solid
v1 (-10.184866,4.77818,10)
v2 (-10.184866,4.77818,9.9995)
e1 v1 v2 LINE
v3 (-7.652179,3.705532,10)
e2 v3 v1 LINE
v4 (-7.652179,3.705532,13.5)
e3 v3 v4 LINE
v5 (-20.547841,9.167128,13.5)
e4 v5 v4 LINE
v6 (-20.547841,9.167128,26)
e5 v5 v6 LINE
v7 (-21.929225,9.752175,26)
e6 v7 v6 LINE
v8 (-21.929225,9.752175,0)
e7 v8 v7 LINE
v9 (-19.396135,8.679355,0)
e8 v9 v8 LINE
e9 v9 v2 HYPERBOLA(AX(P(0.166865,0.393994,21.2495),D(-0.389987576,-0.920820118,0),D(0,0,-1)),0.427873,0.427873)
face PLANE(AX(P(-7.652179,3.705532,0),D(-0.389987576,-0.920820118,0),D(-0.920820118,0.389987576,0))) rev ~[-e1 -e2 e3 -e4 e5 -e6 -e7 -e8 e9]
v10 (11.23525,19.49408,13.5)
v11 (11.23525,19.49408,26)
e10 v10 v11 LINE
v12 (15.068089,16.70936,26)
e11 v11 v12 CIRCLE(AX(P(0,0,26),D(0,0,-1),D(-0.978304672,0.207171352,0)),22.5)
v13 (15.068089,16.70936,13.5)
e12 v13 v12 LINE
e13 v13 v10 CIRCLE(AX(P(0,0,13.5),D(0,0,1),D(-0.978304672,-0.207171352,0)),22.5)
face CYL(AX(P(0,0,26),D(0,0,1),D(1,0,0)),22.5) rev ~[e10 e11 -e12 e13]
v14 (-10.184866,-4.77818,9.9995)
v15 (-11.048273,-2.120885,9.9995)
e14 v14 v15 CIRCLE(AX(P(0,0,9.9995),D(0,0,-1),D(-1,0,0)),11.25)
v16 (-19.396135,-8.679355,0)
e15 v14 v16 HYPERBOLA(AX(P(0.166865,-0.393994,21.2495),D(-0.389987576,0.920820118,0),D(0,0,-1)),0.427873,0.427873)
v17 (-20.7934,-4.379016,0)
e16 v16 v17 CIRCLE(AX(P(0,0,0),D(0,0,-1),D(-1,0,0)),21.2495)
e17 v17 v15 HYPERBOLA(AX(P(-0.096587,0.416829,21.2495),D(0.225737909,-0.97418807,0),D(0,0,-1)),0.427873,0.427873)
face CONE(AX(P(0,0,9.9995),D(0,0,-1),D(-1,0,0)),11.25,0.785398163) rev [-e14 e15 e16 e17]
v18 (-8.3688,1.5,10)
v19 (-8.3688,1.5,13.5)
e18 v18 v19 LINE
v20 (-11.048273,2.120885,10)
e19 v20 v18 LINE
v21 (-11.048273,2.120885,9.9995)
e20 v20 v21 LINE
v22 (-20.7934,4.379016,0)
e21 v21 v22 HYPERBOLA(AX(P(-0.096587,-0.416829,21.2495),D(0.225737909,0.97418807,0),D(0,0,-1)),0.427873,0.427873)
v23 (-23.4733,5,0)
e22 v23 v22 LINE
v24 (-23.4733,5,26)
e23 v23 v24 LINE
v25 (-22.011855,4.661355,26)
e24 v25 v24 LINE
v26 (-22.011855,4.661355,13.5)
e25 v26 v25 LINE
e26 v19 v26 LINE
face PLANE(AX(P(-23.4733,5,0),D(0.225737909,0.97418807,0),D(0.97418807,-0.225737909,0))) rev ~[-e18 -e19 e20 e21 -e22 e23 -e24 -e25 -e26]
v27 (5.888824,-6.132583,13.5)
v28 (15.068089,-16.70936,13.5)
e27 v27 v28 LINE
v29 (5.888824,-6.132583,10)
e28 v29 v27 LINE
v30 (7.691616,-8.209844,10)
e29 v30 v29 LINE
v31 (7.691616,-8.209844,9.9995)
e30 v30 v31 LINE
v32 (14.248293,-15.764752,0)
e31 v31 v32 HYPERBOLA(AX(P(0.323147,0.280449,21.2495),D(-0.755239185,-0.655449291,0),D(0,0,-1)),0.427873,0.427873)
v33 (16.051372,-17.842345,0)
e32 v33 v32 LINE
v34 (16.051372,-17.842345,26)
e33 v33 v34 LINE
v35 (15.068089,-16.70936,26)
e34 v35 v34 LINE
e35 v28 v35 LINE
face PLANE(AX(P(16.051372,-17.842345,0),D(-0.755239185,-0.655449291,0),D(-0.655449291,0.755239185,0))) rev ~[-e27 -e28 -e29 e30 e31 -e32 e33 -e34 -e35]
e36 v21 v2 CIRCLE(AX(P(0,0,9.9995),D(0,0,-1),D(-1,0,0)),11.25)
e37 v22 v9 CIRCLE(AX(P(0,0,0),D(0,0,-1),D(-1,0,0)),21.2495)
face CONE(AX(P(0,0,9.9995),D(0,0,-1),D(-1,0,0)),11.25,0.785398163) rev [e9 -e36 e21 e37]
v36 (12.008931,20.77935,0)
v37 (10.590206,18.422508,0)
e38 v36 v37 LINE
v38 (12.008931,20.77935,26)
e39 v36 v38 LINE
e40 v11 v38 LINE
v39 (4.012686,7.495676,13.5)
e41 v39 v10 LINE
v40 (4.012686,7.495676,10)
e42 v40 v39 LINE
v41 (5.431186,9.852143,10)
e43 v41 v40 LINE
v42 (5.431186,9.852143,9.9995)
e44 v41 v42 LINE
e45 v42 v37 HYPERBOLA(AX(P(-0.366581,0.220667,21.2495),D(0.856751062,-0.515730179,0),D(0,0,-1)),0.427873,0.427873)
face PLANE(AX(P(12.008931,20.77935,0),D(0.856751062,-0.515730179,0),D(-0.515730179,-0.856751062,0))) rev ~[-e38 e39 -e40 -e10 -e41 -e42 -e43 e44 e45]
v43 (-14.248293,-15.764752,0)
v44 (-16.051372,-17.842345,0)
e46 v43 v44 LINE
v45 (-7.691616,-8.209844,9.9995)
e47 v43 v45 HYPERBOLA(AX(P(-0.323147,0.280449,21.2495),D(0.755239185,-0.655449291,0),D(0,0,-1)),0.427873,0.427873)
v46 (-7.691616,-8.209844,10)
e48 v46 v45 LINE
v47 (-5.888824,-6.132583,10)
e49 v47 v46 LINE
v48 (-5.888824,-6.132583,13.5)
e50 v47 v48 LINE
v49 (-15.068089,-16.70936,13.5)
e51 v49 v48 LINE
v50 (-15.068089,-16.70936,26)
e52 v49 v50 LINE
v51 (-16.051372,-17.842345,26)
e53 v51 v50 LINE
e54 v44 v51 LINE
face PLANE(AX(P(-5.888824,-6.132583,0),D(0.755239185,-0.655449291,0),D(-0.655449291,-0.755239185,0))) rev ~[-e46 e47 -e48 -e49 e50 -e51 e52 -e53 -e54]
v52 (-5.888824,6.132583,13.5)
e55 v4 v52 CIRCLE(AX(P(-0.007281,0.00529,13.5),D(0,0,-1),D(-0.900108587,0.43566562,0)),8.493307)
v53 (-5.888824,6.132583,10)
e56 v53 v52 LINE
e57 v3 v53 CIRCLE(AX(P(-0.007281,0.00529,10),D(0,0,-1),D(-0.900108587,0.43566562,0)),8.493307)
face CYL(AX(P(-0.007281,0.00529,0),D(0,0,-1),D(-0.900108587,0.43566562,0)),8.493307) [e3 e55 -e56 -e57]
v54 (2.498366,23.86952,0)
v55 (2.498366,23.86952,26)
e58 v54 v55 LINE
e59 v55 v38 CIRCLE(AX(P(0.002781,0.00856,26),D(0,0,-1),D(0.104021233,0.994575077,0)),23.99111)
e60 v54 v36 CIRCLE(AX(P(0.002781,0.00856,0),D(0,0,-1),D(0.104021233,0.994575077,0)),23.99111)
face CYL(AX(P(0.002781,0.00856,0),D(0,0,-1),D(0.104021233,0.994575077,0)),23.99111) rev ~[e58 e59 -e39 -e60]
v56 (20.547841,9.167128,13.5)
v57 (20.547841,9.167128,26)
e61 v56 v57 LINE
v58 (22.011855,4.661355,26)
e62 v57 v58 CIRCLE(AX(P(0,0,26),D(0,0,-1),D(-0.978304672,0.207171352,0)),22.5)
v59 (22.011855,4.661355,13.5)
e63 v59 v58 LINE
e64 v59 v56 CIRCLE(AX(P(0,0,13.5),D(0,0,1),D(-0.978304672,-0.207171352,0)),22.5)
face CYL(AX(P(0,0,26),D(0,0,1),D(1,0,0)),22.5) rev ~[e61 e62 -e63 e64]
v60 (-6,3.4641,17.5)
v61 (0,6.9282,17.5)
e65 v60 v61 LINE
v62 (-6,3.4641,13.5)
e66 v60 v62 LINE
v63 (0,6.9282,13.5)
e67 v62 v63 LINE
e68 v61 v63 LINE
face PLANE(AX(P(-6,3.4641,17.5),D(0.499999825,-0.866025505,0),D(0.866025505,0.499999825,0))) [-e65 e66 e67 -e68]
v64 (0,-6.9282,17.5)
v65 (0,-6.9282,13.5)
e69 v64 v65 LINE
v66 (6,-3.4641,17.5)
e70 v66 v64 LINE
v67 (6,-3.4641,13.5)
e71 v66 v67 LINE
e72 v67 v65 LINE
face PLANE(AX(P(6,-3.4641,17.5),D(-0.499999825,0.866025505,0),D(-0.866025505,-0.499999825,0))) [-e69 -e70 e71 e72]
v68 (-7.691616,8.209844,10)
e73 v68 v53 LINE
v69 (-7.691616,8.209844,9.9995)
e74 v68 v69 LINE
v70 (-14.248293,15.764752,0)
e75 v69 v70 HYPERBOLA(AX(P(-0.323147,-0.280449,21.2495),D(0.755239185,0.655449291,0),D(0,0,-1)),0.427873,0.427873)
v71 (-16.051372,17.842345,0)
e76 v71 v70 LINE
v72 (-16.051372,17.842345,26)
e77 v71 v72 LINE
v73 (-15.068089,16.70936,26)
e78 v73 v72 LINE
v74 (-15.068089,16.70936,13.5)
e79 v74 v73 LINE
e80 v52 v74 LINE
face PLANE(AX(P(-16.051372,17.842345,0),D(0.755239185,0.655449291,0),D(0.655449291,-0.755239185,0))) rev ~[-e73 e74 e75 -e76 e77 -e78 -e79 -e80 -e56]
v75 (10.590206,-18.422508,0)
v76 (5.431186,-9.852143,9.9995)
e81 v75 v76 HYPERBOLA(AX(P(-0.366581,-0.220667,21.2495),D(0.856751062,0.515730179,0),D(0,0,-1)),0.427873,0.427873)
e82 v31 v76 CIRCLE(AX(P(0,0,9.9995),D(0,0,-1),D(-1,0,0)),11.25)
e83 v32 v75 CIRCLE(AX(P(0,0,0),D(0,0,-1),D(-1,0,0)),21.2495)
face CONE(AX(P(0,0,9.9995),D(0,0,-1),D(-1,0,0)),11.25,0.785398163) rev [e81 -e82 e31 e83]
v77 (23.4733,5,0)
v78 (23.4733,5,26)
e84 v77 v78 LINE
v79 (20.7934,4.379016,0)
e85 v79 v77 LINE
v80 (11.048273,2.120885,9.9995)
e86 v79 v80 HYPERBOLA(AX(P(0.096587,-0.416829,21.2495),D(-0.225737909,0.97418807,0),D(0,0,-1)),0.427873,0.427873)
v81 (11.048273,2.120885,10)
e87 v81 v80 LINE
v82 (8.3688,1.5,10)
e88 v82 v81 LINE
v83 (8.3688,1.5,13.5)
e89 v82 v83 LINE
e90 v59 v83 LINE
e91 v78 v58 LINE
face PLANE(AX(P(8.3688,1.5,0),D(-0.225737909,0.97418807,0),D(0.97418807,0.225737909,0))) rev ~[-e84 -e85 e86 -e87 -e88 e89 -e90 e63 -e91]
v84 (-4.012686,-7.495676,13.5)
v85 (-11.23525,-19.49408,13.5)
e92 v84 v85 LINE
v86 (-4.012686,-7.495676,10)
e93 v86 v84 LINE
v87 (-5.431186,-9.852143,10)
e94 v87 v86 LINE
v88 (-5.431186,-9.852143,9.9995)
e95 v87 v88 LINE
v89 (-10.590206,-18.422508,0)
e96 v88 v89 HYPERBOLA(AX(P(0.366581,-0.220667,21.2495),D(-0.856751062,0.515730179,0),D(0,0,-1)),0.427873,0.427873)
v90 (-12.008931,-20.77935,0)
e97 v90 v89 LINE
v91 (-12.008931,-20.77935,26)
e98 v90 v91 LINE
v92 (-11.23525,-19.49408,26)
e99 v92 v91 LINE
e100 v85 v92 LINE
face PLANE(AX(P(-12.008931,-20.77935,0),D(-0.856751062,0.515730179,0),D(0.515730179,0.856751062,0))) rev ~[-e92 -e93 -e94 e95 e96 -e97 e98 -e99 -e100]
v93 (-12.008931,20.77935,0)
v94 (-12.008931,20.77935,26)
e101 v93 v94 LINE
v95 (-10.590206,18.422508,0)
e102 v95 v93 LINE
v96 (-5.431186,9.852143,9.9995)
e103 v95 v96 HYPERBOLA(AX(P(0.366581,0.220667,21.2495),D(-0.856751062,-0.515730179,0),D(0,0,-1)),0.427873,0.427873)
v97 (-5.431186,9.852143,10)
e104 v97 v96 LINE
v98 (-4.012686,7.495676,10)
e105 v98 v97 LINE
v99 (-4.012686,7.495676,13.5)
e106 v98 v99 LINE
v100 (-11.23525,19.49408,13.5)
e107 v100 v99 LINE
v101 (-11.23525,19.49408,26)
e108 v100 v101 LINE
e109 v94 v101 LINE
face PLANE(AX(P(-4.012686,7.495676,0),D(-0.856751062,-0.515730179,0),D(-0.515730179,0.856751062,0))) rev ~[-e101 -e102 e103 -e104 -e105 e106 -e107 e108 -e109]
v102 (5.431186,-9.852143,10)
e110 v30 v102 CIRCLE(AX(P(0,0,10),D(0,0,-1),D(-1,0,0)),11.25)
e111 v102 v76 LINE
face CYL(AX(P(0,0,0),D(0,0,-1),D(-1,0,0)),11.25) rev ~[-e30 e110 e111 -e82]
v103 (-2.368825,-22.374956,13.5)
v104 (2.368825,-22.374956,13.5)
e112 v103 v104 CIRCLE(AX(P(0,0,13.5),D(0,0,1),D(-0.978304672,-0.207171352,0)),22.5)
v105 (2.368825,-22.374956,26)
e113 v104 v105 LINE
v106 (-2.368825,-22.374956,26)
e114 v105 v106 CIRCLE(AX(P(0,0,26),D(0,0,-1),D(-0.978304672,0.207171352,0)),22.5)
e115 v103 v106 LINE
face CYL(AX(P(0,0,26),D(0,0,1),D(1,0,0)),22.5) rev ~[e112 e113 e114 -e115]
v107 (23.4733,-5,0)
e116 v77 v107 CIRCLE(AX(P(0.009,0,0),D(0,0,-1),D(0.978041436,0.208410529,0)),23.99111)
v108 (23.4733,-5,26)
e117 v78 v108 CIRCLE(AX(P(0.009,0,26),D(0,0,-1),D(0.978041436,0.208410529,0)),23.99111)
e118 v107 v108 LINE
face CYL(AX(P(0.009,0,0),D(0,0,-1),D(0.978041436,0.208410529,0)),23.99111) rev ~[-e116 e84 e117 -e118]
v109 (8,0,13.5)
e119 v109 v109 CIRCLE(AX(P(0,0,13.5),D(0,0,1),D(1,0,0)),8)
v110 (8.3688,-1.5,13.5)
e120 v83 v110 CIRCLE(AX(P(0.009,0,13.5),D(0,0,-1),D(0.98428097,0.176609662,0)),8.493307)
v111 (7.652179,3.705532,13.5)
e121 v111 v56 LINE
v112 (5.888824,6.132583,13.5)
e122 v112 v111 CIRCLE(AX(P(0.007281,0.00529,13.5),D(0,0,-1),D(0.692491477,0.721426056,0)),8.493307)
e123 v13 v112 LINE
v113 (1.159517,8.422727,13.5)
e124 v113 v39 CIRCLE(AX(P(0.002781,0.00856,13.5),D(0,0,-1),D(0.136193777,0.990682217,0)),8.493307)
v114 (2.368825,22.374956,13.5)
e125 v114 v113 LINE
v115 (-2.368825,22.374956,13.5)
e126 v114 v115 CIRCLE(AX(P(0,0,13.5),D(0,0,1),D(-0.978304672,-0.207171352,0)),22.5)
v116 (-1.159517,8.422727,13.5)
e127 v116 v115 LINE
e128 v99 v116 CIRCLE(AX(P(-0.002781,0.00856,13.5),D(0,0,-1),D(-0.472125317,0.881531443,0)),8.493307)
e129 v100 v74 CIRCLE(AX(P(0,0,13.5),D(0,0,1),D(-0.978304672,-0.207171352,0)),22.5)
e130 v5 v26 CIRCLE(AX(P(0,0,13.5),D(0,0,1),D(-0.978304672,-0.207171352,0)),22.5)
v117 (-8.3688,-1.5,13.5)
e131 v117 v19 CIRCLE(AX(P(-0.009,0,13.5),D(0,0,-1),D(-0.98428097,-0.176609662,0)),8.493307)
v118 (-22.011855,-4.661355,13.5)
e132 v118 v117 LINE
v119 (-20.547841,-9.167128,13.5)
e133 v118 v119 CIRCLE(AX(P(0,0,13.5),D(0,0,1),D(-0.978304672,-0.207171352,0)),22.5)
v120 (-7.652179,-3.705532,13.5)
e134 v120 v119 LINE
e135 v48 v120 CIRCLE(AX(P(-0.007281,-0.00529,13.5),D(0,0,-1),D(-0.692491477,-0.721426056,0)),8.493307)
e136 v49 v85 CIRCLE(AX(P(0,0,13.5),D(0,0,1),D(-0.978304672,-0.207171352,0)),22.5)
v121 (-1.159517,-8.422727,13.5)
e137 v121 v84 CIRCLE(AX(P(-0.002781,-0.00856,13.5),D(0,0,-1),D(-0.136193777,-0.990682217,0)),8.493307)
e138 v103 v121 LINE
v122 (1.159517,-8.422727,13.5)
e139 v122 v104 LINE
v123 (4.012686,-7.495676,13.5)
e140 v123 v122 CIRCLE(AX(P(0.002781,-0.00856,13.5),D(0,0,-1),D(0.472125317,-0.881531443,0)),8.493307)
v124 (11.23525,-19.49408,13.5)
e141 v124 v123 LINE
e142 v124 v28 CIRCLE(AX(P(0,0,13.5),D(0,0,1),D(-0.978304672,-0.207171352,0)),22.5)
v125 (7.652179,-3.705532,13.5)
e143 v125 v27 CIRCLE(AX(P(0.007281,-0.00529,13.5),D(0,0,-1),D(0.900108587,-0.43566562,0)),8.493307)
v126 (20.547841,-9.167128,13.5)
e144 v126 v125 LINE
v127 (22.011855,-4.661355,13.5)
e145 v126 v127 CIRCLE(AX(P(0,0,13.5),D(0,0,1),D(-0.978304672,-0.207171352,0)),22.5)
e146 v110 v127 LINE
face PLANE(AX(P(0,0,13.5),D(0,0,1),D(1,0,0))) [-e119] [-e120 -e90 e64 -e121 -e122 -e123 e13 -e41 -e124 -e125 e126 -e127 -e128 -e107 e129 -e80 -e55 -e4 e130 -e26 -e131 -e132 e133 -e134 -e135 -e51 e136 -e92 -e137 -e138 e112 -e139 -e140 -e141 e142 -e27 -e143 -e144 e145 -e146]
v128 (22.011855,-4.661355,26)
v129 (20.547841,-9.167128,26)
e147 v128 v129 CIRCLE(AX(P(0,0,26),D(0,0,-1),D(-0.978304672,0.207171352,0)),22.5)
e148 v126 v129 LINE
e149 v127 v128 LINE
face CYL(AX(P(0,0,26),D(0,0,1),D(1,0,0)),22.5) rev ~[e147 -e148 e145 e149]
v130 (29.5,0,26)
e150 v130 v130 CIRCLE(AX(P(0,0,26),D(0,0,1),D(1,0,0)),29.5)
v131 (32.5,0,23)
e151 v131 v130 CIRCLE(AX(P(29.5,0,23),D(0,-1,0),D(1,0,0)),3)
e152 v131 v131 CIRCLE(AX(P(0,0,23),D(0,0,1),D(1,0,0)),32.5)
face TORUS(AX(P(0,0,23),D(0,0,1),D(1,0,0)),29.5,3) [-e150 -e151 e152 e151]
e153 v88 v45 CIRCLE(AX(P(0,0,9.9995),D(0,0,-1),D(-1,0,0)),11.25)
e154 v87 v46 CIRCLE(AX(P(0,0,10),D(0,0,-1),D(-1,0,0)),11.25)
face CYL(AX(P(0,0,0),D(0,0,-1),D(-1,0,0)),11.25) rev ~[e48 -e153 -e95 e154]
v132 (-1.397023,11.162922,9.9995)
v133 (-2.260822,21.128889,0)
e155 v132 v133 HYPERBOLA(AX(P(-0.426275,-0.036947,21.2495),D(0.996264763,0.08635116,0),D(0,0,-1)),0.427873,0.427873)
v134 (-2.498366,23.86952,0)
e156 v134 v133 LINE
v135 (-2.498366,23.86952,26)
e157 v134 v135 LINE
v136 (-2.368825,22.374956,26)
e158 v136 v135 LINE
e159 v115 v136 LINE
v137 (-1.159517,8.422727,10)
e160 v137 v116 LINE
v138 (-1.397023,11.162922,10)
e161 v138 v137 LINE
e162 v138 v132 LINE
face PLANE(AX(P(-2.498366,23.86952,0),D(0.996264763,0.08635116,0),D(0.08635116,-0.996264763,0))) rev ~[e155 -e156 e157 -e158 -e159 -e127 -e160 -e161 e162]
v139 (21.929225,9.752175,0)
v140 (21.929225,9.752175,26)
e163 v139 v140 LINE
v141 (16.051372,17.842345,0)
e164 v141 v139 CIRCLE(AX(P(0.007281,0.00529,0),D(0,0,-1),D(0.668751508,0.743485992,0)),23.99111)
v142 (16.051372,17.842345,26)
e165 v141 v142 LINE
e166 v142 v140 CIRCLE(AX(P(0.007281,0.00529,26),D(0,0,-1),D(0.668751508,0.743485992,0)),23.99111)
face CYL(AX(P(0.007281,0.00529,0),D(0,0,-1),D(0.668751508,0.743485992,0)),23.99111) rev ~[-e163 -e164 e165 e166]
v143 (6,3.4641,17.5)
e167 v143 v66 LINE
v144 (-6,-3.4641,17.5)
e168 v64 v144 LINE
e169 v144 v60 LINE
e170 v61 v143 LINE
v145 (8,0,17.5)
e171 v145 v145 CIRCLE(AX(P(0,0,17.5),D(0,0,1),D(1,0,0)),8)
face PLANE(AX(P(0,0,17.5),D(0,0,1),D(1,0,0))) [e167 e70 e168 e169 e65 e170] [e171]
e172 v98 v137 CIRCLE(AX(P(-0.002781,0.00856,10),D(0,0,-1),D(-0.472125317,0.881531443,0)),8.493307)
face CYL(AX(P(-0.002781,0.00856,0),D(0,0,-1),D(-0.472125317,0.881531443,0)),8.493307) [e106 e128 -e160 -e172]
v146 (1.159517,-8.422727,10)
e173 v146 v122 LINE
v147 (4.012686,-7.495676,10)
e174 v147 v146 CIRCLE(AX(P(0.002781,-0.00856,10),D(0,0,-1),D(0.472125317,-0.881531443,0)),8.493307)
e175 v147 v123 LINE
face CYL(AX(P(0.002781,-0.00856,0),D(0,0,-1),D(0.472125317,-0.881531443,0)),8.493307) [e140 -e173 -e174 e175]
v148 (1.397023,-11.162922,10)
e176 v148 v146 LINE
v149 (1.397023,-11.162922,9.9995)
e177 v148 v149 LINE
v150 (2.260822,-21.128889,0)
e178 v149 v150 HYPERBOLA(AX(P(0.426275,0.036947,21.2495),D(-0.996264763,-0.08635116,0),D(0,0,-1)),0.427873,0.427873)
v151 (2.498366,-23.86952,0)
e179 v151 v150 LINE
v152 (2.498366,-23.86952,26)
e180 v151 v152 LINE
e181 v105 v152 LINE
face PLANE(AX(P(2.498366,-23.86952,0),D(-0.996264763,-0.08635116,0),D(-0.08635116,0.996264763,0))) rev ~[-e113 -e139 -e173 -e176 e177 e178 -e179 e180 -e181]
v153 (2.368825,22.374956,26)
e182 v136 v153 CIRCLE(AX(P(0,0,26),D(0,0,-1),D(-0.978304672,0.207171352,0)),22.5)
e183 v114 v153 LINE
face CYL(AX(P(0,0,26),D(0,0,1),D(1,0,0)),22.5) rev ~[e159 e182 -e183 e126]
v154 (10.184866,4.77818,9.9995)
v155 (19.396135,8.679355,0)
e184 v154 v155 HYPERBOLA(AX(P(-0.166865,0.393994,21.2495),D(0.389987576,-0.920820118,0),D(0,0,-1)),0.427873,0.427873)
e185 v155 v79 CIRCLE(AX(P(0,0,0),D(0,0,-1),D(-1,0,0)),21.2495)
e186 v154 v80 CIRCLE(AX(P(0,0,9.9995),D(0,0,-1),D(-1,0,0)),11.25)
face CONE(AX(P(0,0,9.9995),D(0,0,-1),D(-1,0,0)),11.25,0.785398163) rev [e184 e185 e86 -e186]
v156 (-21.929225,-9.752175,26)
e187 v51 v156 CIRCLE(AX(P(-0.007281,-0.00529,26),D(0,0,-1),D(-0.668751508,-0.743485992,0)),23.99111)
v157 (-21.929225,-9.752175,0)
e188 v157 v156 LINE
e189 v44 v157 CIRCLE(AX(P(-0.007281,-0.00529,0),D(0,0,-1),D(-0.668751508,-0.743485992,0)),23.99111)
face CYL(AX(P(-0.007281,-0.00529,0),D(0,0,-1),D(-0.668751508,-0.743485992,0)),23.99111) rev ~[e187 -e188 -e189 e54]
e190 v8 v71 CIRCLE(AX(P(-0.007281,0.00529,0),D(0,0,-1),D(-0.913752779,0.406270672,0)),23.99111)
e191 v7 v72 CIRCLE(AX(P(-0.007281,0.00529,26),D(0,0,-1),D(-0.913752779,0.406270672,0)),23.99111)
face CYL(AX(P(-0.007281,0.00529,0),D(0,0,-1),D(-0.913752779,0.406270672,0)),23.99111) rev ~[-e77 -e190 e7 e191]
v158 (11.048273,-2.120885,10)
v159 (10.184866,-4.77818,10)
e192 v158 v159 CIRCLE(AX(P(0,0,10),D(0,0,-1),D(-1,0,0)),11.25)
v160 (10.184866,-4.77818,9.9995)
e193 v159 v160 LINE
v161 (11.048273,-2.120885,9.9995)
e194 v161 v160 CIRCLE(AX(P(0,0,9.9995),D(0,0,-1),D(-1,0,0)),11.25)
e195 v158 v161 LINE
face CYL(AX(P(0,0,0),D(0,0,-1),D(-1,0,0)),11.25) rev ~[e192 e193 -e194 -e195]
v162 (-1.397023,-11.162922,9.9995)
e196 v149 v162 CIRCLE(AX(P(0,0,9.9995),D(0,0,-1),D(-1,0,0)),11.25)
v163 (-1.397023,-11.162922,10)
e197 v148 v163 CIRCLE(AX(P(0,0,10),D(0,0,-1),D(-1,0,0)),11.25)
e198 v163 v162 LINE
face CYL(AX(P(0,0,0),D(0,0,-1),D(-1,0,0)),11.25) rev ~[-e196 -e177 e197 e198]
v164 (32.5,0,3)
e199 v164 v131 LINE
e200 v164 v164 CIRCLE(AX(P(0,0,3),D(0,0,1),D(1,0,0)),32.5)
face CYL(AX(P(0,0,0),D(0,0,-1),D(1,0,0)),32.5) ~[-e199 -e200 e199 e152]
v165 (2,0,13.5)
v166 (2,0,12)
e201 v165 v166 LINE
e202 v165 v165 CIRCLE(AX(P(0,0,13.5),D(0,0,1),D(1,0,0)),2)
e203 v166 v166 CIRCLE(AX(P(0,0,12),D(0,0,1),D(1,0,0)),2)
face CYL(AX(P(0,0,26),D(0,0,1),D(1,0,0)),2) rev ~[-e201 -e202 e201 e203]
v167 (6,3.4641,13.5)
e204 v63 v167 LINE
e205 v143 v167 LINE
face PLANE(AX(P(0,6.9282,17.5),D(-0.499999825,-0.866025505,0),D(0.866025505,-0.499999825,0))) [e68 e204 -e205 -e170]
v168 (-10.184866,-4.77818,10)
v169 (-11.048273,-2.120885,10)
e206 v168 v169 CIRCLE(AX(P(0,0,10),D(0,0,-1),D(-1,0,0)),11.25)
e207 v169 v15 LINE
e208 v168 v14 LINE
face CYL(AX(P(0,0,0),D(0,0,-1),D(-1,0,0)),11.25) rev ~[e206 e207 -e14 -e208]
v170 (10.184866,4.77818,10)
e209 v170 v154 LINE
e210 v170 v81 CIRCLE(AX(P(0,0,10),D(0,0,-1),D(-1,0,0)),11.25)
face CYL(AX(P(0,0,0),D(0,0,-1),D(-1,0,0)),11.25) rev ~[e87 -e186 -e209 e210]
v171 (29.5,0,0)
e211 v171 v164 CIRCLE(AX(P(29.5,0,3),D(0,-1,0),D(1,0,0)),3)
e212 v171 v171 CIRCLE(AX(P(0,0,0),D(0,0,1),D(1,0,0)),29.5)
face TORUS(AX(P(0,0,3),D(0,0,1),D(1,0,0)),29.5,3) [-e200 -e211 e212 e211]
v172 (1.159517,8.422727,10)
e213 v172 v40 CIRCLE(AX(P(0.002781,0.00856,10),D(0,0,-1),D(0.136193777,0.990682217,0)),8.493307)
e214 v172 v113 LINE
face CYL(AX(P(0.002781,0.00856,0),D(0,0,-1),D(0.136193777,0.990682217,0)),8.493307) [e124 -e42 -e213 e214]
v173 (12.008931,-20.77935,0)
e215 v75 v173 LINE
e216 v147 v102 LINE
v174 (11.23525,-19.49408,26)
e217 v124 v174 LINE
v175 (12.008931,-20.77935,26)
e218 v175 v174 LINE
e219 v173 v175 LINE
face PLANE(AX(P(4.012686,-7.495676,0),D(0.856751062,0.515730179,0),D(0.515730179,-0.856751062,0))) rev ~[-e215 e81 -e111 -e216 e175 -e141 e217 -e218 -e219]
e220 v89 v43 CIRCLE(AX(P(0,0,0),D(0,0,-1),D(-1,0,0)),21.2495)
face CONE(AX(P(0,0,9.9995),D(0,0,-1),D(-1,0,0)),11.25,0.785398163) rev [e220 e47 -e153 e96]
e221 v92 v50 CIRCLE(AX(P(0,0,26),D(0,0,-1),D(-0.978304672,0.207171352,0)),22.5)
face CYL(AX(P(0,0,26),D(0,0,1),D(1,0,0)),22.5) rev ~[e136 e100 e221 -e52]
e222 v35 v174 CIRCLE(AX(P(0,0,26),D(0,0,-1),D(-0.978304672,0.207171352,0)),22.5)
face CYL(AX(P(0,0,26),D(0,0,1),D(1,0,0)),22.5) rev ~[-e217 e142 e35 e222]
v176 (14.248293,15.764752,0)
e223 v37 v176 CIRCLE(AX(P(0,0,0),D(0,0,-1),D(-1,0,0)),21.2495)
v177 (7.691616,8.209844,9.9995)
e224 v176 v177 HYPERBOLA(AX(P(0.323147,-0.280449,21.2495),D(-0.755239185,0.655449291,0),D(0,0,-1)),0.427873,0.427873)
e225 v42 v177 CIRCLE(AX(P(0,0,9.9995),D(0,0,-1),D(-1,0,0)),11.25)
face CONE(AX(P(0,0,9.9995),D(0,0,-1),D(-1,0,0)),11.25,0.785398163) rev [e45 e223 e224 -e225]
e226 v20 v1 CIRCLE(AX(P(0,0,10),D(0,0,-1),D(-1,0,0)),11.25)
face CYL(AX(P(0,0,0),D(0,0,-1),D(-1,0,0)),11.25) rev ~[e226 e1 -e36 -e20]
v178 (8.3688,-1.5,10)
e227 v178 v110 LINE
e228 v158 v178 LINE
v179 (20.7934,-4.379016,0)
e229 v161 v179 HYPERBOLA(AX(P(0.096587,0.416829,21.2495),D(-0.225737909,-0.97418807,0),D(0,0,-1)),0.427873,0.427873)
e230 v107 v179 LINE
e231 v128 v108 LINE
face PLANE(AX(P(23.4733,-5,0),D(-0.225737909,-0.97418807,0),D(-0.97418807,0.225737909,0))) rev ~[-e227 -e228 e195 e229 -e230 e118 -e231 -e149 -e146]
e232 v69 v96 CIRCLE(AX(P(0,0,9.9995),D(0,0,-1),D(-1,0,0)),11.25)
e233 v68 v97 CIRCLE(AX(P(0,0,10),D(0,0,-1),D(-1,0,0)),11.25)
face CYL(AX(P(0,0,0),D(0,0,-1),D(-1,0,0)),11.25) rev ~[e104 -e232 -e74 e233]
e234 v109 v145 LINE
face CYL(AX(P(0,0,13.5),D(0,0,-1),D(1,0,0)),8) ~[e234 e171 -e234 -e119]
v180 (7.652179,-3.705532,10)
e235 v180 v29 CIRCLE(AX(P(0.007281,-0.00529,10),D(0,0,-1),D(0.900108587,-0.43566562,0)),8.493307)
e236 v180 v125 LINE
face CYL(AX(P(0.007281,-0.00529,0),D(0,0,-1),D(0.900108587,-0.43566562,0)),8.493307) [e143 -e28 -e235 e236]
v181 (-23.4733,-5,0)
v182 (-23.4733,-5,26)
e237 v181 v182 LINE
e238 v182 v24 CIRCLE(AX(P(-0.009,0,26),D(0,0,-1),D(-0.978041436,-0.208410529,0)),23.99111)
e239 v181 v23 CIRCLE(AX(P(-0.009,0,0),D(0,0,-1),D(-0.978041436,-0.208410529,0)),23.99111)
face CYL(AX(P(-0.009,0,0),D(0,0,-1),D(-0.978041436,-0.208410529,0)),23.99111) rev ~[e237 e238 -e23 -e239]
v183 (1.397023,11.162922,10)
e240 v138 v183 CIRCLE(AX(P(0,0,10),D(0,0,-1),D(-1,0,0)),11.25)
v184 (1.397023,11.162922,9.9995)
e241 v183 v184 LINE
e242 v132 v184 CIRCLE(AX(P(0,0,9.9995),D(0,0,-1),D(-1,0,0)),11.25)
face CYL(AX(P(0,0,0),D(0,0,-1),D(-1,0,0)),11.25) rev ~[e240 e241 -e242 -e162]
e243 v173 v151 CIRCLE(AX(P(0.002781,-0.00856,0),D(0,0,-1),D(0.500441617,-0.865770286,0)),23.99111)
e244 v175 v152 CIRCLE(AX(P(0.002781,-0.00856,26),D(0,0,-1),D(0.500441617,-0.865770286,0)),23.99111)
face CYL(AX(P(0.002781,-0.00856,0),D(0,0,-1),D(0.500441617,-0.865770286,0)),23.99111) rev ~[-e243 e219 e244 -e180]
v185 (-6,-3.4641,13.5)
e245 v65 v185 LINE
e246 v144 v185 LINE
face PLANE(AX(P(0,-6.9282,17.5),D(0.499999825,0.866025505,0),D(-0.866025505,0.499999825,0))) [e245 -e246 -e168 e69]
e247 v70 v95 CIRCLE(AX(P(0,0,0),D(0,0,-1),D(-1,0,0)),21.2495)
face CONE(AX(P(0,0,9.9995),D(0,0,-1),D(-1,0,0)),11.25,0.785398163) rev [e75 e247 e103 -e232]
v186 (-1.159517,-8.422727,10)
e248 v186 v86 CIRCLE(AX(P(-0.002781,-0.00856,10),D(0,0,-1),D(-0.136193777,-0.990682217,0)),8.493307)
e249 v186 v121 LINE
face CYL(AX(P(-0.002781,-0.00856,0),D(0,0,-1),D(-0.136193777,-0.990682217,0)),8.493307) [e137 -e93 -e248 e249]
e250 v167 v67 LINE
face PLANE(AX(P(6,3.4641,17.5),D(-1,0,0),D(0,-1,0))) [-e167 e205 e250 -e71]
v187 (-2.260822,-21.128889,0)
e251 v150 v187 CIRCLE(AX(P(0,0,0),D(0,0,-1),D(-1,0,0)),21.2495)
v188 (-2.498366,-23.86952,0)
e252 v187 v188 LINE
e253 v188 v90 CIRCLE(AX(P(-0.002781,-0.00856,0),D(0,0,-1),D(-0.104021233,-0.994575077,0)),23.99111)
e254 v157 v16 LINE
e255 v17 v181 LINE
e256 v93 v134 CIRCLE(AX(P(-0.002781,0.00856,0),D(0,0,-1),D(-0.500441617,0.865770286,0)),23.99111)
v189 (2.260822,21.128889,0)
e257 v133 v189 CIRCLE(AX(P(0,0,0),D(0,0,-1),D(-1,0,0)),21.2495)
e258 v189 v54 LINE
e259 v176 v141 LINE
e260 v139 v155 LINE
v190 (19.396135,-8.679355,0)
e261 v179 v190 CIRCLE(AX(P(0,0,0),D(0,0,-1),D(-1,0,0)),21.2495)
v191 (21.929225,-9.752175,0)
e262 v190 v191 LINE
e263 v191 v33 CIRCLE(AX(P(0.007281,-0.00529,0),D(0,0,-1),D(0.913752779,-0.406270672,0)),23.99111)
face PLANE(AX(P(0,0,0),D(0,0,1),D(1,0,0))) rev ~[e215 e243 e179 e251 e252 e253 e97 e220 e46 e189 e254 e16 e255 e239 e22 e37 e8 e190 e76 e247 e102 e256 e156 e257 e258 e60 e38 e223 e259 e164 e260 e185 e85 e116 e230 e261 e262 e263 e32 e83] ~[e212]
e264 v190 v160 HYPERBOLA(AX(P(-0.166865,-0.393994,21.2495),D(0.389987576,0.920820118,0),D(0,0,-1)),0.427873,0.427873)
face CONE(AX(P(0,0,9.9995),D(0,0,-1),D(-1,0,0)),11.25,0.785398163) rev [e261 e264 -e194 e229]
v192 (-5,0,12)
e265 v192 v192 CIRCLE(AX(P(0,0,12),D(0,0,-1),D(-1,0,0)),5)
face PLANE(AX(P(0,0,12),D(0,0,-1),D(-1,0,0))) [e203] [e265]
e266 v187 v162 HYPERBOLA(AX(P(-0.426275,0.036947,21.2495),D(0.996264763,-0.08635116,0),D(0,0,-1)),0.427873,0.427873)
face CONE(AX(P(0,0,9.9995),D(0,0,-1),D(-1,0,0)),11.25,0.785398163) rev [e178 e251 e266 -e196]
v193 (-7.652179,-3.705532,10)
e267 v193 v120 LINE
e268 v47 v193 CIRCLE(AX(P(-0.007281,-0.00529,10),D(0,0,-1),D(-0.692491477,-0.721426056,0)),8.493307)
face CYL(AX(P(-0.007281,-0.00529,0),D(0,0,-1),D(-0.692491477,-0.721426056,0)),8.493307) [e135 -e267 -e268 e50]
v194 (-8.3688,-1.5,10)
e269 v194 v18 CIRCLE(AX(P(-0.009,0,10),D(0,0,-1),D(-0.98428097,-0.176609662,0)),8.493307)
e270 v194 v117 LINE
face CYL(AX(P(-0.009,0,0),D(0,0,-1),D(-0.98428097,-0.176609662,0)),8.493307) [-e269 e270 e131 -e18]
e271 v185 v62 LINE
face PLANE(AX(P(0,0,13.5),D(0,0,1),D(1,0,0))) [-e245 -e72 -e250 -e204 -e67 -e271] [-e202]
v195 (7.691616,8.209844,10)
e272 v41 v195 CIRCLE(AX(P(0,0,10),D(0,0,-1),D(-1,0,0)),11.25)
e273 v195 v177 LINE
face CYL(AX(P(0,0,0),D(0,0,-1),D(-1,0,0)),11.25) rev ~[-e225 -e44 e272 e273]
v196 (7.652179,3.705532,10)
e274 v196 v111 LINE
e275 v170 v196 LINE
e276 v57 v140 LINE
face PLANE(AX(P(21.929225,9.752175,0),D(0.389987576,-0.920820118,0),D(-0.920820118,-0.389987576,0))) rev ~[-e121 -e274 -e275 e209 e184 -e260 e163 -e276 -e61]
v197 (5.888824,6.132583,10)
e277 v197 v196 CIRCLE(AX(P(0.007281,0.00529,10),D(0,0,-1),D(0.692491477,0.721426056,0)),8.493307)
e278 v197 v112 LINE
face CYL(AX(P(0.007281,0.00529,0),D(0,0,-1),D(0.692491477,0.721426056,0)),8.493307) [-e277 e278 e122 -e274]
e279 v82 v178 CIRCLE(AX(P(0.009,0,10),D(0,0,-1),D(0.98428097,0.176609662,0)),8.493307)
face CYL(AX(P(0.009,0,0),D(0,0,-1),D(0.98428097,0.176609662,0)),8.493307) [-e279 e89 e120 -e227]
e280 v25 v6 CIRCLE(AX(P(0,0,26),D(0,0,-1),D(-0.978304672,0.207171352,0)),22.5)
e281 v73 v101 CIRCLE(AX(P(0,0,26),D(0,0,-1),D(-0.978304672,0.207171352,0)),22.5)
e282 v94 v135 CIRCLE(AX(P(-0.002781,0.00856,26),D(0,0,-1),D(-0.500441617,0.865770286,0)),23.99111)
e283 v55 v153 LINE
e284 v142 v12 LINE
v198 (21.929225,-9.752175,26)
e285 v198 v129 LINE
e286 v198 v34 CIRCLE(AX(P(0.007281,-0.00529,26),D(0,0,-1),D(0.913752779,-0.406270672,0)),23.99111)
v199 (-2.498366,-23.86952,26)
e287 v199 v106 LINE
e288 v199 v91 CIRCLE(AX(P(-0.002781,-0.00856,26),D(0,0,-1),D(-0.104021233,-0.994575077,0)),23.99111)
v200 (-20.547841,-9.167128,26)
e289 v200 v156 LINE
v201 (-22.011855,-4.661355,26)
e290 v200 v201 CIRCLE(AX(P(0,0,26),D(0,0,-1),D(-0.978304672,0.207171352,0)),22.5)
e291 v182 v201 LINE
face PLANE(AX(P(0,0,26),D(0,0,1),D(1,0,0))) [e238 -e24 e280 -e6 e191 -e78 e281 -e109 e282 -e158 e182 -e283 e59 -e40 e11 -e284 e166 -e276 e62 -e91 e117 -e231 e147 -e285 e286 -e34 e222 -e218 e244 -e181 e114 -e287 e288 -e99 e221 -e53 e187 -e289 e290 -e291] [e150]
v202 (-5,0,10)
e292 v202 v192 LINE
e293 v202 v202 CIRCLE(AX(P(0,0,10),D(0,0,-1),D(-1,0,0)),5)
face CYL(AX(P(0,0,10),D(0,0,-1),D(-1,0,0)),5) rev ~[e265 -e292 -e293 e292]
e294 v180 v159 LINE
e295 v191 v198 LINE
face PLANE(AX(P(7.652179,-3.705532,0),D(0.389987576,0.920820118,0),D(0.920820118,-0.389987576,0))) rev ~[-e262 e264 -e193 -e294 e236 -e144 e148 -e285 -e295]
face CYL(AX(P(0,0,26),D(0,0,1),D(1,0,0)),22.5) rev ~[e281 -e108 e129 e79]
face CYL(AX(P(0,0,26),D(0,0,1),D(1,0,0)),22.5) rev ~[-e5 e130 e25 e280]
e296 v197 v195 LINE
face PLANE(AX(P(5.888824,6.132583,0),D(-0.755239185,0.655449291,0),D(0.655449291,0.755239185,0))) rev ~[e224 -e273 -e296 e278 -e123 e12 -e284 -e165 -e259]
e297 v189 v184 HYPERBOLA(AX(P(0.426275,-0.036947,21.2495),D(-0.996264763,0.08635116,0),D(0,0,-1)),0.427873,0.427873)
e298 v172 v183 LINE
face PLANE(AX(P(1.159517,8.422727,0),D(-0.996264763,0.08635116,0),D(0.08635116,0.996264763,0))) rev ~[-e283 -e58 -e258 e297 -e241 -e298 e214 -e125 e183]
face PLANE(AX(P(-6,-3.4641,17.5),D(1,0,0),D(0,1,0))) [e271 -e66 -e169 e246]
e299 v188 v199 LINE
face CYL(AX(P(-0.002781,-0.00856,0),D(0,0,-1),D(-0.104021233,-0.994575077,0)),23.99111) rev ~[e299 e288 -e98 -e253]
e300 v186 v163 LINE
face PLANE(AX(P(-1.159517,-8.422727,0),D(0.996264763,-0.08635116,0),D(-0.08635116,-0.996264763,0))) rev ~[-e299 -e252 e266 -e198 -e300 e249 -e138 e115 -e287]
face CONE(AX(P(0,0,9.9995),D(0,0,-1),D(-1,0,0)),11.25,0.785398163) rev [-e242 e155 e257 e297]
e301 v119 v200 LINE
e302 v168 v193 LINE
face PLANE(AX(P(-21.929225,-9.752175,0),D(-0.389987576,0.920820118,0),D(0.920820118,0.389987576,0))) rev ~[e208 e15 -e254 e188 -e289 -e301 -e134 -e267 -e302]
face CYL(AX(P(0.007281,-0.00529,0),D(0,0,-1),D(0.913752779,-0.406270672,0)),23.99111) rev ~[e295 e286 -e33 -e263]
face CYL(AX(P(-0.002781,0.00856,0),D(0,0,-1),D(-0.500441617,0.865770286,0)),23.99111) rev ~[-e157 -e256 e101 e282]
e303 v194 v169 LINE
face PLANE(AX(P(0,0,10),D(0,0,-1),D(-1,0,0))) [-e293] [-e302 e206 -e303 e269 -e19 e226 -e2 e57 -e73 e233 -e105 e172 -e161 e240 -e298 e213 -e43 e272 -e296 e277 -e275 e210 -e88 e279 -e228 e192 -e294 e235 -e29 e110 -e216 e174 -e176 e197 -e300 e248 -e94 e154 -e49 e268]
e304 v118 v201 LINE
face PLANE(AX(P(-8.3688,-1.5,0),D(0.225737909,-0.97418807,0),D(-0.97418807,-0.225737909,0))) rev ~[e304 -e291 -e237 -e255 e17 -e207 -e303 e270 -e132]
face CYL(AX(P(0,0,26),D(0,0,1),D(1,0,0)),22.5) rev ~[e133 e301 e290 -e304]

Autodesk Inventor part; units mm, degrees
ref_plane "YZ Plane" through (0, 0, 0) normal (1, 0, 0) x (0, 1, 0)
ref_plane "XZ Plane" through (0, 0, 0) normal (0, 1, 0) x (-1, 0, 0)
ref_plane "XY Plane" through (0, 0, 0) normal (0, 0, 1) x (1, 0, 0)
sketch "Esquisse1" plane through (0, 0, 0) normal (0, 0, 1) x (1, 0, 0)
  circle A0 centre (0, 0) radius 32.5
  dimension "d0" = 65
extrude "Extrusion1" add sketch "Esquisse1" along normal blind 26
sketch "Esquisse3" plane through (0, 0, 26) normal (0, 0, 1) x (1, 0, 0)
  circle A0 centre (0, 0) radius 22.5
  dimension "d6" = 45
extrude "Extrusion3" cut sketch "Esquisse3" against normal blind 12.5
sketch "Esquisse4" plane through (0, 0, 13.5) normal (0, 0, 1) x (1, 0, 0)
  circle A0 centre (0, 0) radius 8
  dimension "d9" = 16
extrude "Extrusion4" add sketch "Esquisse4" along normal blind 4
sketch "Esquisse2" plane through (0, 0, 26) normal (0, 0, 1) x (1, 0, 0)
  circle A0 centre (0, 0) radius 2
  dimension "d3" = 4
extrude "Extrusion2" cut sketch "Esquisse2" against normal through all
sketch "Esquisse5" plane through (0, 0, 17.5) normal (0, 0, 1) x (1, 0, 0)
  line L0 (0, 6.9282) -> (6, 3.4641)
  line L1 (6, 3.4641) -> (6, -3.4641)
  line L2 (6, -3.4641) -> (0, -6.9282)
  line L3 (0, -6.9282) -> (-6, -3.4641)
  line L4 (-6, -3.4641) -> (-6, 3.4641)
  line L5 (-6, 3.4641) -> (0, 6.9282)
  point P0 (0, 0)
  point P1 (0, 0)
  dimension "d12" = 12
extrude "Extrusion5" cut sketch "Esquisse5" against normal blind 4
sketch "Esquisse6" plane through (0, 0, 0) normal (0, 0, -1) x (-1, 0, 0)
  circle A0 centre (0, 0) radius 11.25
  dimension "d15" = 22.5
extrude "Extrusion6" cut sketch "Esquisse6" against normal blind 10
chamfer "Chanfrein1" distance 10 angle 45 1 edges at (11.25, 0, 0)
sketch "Esquisse7" plane through (0, 0, 10) normal (0, 0, -1) x (-1, 0, 0)
  circle A0 centre (0, 0) radius 5
  dimension "d21" = 10
extrude "Extrusion7" cut sketch "Esquisse7" against normal blind 2
sketch "Esquisse8" plane through (0, 0, 0) normal (0, 0, -1) x (-1, 0, 0)
  line L0 (23.4733, 5) -> (8.3688, 1.5)
  line L1 (8.3688, -1.5) -> (23.4733, -5)
  arc A0 (23.4733, -5) -> (23.4733, 5) centre (0.009, 0) ccw
  arc A1 (8.3688, -1.5) -> (8.3688, 1.5) centre (0.009, 0) ccw
  point P0 (0, 0)
  dimension "d26" = 3
  dimension "d27" = 1.5
  dimension "d28" = 10
  dimension "d29" = 5
extrude "Extrusion8" cut sketch "Esquisse8" against normal through all
pattern_circular "Réseau circulaire1" count 10 over 360 about axis through (0, 0, 26) along (0, 0, -1) of "Extrusion8"
fillet "Congé1" radius 3 2 edges at (-32.5, 0, 0) (-32.5, 0, 26)
equation "\"d27\" = 0.5 * d26"
equation "\"d29\" = 0.5 * d28"
properties part number "Roue" material "Caoutchouc"
